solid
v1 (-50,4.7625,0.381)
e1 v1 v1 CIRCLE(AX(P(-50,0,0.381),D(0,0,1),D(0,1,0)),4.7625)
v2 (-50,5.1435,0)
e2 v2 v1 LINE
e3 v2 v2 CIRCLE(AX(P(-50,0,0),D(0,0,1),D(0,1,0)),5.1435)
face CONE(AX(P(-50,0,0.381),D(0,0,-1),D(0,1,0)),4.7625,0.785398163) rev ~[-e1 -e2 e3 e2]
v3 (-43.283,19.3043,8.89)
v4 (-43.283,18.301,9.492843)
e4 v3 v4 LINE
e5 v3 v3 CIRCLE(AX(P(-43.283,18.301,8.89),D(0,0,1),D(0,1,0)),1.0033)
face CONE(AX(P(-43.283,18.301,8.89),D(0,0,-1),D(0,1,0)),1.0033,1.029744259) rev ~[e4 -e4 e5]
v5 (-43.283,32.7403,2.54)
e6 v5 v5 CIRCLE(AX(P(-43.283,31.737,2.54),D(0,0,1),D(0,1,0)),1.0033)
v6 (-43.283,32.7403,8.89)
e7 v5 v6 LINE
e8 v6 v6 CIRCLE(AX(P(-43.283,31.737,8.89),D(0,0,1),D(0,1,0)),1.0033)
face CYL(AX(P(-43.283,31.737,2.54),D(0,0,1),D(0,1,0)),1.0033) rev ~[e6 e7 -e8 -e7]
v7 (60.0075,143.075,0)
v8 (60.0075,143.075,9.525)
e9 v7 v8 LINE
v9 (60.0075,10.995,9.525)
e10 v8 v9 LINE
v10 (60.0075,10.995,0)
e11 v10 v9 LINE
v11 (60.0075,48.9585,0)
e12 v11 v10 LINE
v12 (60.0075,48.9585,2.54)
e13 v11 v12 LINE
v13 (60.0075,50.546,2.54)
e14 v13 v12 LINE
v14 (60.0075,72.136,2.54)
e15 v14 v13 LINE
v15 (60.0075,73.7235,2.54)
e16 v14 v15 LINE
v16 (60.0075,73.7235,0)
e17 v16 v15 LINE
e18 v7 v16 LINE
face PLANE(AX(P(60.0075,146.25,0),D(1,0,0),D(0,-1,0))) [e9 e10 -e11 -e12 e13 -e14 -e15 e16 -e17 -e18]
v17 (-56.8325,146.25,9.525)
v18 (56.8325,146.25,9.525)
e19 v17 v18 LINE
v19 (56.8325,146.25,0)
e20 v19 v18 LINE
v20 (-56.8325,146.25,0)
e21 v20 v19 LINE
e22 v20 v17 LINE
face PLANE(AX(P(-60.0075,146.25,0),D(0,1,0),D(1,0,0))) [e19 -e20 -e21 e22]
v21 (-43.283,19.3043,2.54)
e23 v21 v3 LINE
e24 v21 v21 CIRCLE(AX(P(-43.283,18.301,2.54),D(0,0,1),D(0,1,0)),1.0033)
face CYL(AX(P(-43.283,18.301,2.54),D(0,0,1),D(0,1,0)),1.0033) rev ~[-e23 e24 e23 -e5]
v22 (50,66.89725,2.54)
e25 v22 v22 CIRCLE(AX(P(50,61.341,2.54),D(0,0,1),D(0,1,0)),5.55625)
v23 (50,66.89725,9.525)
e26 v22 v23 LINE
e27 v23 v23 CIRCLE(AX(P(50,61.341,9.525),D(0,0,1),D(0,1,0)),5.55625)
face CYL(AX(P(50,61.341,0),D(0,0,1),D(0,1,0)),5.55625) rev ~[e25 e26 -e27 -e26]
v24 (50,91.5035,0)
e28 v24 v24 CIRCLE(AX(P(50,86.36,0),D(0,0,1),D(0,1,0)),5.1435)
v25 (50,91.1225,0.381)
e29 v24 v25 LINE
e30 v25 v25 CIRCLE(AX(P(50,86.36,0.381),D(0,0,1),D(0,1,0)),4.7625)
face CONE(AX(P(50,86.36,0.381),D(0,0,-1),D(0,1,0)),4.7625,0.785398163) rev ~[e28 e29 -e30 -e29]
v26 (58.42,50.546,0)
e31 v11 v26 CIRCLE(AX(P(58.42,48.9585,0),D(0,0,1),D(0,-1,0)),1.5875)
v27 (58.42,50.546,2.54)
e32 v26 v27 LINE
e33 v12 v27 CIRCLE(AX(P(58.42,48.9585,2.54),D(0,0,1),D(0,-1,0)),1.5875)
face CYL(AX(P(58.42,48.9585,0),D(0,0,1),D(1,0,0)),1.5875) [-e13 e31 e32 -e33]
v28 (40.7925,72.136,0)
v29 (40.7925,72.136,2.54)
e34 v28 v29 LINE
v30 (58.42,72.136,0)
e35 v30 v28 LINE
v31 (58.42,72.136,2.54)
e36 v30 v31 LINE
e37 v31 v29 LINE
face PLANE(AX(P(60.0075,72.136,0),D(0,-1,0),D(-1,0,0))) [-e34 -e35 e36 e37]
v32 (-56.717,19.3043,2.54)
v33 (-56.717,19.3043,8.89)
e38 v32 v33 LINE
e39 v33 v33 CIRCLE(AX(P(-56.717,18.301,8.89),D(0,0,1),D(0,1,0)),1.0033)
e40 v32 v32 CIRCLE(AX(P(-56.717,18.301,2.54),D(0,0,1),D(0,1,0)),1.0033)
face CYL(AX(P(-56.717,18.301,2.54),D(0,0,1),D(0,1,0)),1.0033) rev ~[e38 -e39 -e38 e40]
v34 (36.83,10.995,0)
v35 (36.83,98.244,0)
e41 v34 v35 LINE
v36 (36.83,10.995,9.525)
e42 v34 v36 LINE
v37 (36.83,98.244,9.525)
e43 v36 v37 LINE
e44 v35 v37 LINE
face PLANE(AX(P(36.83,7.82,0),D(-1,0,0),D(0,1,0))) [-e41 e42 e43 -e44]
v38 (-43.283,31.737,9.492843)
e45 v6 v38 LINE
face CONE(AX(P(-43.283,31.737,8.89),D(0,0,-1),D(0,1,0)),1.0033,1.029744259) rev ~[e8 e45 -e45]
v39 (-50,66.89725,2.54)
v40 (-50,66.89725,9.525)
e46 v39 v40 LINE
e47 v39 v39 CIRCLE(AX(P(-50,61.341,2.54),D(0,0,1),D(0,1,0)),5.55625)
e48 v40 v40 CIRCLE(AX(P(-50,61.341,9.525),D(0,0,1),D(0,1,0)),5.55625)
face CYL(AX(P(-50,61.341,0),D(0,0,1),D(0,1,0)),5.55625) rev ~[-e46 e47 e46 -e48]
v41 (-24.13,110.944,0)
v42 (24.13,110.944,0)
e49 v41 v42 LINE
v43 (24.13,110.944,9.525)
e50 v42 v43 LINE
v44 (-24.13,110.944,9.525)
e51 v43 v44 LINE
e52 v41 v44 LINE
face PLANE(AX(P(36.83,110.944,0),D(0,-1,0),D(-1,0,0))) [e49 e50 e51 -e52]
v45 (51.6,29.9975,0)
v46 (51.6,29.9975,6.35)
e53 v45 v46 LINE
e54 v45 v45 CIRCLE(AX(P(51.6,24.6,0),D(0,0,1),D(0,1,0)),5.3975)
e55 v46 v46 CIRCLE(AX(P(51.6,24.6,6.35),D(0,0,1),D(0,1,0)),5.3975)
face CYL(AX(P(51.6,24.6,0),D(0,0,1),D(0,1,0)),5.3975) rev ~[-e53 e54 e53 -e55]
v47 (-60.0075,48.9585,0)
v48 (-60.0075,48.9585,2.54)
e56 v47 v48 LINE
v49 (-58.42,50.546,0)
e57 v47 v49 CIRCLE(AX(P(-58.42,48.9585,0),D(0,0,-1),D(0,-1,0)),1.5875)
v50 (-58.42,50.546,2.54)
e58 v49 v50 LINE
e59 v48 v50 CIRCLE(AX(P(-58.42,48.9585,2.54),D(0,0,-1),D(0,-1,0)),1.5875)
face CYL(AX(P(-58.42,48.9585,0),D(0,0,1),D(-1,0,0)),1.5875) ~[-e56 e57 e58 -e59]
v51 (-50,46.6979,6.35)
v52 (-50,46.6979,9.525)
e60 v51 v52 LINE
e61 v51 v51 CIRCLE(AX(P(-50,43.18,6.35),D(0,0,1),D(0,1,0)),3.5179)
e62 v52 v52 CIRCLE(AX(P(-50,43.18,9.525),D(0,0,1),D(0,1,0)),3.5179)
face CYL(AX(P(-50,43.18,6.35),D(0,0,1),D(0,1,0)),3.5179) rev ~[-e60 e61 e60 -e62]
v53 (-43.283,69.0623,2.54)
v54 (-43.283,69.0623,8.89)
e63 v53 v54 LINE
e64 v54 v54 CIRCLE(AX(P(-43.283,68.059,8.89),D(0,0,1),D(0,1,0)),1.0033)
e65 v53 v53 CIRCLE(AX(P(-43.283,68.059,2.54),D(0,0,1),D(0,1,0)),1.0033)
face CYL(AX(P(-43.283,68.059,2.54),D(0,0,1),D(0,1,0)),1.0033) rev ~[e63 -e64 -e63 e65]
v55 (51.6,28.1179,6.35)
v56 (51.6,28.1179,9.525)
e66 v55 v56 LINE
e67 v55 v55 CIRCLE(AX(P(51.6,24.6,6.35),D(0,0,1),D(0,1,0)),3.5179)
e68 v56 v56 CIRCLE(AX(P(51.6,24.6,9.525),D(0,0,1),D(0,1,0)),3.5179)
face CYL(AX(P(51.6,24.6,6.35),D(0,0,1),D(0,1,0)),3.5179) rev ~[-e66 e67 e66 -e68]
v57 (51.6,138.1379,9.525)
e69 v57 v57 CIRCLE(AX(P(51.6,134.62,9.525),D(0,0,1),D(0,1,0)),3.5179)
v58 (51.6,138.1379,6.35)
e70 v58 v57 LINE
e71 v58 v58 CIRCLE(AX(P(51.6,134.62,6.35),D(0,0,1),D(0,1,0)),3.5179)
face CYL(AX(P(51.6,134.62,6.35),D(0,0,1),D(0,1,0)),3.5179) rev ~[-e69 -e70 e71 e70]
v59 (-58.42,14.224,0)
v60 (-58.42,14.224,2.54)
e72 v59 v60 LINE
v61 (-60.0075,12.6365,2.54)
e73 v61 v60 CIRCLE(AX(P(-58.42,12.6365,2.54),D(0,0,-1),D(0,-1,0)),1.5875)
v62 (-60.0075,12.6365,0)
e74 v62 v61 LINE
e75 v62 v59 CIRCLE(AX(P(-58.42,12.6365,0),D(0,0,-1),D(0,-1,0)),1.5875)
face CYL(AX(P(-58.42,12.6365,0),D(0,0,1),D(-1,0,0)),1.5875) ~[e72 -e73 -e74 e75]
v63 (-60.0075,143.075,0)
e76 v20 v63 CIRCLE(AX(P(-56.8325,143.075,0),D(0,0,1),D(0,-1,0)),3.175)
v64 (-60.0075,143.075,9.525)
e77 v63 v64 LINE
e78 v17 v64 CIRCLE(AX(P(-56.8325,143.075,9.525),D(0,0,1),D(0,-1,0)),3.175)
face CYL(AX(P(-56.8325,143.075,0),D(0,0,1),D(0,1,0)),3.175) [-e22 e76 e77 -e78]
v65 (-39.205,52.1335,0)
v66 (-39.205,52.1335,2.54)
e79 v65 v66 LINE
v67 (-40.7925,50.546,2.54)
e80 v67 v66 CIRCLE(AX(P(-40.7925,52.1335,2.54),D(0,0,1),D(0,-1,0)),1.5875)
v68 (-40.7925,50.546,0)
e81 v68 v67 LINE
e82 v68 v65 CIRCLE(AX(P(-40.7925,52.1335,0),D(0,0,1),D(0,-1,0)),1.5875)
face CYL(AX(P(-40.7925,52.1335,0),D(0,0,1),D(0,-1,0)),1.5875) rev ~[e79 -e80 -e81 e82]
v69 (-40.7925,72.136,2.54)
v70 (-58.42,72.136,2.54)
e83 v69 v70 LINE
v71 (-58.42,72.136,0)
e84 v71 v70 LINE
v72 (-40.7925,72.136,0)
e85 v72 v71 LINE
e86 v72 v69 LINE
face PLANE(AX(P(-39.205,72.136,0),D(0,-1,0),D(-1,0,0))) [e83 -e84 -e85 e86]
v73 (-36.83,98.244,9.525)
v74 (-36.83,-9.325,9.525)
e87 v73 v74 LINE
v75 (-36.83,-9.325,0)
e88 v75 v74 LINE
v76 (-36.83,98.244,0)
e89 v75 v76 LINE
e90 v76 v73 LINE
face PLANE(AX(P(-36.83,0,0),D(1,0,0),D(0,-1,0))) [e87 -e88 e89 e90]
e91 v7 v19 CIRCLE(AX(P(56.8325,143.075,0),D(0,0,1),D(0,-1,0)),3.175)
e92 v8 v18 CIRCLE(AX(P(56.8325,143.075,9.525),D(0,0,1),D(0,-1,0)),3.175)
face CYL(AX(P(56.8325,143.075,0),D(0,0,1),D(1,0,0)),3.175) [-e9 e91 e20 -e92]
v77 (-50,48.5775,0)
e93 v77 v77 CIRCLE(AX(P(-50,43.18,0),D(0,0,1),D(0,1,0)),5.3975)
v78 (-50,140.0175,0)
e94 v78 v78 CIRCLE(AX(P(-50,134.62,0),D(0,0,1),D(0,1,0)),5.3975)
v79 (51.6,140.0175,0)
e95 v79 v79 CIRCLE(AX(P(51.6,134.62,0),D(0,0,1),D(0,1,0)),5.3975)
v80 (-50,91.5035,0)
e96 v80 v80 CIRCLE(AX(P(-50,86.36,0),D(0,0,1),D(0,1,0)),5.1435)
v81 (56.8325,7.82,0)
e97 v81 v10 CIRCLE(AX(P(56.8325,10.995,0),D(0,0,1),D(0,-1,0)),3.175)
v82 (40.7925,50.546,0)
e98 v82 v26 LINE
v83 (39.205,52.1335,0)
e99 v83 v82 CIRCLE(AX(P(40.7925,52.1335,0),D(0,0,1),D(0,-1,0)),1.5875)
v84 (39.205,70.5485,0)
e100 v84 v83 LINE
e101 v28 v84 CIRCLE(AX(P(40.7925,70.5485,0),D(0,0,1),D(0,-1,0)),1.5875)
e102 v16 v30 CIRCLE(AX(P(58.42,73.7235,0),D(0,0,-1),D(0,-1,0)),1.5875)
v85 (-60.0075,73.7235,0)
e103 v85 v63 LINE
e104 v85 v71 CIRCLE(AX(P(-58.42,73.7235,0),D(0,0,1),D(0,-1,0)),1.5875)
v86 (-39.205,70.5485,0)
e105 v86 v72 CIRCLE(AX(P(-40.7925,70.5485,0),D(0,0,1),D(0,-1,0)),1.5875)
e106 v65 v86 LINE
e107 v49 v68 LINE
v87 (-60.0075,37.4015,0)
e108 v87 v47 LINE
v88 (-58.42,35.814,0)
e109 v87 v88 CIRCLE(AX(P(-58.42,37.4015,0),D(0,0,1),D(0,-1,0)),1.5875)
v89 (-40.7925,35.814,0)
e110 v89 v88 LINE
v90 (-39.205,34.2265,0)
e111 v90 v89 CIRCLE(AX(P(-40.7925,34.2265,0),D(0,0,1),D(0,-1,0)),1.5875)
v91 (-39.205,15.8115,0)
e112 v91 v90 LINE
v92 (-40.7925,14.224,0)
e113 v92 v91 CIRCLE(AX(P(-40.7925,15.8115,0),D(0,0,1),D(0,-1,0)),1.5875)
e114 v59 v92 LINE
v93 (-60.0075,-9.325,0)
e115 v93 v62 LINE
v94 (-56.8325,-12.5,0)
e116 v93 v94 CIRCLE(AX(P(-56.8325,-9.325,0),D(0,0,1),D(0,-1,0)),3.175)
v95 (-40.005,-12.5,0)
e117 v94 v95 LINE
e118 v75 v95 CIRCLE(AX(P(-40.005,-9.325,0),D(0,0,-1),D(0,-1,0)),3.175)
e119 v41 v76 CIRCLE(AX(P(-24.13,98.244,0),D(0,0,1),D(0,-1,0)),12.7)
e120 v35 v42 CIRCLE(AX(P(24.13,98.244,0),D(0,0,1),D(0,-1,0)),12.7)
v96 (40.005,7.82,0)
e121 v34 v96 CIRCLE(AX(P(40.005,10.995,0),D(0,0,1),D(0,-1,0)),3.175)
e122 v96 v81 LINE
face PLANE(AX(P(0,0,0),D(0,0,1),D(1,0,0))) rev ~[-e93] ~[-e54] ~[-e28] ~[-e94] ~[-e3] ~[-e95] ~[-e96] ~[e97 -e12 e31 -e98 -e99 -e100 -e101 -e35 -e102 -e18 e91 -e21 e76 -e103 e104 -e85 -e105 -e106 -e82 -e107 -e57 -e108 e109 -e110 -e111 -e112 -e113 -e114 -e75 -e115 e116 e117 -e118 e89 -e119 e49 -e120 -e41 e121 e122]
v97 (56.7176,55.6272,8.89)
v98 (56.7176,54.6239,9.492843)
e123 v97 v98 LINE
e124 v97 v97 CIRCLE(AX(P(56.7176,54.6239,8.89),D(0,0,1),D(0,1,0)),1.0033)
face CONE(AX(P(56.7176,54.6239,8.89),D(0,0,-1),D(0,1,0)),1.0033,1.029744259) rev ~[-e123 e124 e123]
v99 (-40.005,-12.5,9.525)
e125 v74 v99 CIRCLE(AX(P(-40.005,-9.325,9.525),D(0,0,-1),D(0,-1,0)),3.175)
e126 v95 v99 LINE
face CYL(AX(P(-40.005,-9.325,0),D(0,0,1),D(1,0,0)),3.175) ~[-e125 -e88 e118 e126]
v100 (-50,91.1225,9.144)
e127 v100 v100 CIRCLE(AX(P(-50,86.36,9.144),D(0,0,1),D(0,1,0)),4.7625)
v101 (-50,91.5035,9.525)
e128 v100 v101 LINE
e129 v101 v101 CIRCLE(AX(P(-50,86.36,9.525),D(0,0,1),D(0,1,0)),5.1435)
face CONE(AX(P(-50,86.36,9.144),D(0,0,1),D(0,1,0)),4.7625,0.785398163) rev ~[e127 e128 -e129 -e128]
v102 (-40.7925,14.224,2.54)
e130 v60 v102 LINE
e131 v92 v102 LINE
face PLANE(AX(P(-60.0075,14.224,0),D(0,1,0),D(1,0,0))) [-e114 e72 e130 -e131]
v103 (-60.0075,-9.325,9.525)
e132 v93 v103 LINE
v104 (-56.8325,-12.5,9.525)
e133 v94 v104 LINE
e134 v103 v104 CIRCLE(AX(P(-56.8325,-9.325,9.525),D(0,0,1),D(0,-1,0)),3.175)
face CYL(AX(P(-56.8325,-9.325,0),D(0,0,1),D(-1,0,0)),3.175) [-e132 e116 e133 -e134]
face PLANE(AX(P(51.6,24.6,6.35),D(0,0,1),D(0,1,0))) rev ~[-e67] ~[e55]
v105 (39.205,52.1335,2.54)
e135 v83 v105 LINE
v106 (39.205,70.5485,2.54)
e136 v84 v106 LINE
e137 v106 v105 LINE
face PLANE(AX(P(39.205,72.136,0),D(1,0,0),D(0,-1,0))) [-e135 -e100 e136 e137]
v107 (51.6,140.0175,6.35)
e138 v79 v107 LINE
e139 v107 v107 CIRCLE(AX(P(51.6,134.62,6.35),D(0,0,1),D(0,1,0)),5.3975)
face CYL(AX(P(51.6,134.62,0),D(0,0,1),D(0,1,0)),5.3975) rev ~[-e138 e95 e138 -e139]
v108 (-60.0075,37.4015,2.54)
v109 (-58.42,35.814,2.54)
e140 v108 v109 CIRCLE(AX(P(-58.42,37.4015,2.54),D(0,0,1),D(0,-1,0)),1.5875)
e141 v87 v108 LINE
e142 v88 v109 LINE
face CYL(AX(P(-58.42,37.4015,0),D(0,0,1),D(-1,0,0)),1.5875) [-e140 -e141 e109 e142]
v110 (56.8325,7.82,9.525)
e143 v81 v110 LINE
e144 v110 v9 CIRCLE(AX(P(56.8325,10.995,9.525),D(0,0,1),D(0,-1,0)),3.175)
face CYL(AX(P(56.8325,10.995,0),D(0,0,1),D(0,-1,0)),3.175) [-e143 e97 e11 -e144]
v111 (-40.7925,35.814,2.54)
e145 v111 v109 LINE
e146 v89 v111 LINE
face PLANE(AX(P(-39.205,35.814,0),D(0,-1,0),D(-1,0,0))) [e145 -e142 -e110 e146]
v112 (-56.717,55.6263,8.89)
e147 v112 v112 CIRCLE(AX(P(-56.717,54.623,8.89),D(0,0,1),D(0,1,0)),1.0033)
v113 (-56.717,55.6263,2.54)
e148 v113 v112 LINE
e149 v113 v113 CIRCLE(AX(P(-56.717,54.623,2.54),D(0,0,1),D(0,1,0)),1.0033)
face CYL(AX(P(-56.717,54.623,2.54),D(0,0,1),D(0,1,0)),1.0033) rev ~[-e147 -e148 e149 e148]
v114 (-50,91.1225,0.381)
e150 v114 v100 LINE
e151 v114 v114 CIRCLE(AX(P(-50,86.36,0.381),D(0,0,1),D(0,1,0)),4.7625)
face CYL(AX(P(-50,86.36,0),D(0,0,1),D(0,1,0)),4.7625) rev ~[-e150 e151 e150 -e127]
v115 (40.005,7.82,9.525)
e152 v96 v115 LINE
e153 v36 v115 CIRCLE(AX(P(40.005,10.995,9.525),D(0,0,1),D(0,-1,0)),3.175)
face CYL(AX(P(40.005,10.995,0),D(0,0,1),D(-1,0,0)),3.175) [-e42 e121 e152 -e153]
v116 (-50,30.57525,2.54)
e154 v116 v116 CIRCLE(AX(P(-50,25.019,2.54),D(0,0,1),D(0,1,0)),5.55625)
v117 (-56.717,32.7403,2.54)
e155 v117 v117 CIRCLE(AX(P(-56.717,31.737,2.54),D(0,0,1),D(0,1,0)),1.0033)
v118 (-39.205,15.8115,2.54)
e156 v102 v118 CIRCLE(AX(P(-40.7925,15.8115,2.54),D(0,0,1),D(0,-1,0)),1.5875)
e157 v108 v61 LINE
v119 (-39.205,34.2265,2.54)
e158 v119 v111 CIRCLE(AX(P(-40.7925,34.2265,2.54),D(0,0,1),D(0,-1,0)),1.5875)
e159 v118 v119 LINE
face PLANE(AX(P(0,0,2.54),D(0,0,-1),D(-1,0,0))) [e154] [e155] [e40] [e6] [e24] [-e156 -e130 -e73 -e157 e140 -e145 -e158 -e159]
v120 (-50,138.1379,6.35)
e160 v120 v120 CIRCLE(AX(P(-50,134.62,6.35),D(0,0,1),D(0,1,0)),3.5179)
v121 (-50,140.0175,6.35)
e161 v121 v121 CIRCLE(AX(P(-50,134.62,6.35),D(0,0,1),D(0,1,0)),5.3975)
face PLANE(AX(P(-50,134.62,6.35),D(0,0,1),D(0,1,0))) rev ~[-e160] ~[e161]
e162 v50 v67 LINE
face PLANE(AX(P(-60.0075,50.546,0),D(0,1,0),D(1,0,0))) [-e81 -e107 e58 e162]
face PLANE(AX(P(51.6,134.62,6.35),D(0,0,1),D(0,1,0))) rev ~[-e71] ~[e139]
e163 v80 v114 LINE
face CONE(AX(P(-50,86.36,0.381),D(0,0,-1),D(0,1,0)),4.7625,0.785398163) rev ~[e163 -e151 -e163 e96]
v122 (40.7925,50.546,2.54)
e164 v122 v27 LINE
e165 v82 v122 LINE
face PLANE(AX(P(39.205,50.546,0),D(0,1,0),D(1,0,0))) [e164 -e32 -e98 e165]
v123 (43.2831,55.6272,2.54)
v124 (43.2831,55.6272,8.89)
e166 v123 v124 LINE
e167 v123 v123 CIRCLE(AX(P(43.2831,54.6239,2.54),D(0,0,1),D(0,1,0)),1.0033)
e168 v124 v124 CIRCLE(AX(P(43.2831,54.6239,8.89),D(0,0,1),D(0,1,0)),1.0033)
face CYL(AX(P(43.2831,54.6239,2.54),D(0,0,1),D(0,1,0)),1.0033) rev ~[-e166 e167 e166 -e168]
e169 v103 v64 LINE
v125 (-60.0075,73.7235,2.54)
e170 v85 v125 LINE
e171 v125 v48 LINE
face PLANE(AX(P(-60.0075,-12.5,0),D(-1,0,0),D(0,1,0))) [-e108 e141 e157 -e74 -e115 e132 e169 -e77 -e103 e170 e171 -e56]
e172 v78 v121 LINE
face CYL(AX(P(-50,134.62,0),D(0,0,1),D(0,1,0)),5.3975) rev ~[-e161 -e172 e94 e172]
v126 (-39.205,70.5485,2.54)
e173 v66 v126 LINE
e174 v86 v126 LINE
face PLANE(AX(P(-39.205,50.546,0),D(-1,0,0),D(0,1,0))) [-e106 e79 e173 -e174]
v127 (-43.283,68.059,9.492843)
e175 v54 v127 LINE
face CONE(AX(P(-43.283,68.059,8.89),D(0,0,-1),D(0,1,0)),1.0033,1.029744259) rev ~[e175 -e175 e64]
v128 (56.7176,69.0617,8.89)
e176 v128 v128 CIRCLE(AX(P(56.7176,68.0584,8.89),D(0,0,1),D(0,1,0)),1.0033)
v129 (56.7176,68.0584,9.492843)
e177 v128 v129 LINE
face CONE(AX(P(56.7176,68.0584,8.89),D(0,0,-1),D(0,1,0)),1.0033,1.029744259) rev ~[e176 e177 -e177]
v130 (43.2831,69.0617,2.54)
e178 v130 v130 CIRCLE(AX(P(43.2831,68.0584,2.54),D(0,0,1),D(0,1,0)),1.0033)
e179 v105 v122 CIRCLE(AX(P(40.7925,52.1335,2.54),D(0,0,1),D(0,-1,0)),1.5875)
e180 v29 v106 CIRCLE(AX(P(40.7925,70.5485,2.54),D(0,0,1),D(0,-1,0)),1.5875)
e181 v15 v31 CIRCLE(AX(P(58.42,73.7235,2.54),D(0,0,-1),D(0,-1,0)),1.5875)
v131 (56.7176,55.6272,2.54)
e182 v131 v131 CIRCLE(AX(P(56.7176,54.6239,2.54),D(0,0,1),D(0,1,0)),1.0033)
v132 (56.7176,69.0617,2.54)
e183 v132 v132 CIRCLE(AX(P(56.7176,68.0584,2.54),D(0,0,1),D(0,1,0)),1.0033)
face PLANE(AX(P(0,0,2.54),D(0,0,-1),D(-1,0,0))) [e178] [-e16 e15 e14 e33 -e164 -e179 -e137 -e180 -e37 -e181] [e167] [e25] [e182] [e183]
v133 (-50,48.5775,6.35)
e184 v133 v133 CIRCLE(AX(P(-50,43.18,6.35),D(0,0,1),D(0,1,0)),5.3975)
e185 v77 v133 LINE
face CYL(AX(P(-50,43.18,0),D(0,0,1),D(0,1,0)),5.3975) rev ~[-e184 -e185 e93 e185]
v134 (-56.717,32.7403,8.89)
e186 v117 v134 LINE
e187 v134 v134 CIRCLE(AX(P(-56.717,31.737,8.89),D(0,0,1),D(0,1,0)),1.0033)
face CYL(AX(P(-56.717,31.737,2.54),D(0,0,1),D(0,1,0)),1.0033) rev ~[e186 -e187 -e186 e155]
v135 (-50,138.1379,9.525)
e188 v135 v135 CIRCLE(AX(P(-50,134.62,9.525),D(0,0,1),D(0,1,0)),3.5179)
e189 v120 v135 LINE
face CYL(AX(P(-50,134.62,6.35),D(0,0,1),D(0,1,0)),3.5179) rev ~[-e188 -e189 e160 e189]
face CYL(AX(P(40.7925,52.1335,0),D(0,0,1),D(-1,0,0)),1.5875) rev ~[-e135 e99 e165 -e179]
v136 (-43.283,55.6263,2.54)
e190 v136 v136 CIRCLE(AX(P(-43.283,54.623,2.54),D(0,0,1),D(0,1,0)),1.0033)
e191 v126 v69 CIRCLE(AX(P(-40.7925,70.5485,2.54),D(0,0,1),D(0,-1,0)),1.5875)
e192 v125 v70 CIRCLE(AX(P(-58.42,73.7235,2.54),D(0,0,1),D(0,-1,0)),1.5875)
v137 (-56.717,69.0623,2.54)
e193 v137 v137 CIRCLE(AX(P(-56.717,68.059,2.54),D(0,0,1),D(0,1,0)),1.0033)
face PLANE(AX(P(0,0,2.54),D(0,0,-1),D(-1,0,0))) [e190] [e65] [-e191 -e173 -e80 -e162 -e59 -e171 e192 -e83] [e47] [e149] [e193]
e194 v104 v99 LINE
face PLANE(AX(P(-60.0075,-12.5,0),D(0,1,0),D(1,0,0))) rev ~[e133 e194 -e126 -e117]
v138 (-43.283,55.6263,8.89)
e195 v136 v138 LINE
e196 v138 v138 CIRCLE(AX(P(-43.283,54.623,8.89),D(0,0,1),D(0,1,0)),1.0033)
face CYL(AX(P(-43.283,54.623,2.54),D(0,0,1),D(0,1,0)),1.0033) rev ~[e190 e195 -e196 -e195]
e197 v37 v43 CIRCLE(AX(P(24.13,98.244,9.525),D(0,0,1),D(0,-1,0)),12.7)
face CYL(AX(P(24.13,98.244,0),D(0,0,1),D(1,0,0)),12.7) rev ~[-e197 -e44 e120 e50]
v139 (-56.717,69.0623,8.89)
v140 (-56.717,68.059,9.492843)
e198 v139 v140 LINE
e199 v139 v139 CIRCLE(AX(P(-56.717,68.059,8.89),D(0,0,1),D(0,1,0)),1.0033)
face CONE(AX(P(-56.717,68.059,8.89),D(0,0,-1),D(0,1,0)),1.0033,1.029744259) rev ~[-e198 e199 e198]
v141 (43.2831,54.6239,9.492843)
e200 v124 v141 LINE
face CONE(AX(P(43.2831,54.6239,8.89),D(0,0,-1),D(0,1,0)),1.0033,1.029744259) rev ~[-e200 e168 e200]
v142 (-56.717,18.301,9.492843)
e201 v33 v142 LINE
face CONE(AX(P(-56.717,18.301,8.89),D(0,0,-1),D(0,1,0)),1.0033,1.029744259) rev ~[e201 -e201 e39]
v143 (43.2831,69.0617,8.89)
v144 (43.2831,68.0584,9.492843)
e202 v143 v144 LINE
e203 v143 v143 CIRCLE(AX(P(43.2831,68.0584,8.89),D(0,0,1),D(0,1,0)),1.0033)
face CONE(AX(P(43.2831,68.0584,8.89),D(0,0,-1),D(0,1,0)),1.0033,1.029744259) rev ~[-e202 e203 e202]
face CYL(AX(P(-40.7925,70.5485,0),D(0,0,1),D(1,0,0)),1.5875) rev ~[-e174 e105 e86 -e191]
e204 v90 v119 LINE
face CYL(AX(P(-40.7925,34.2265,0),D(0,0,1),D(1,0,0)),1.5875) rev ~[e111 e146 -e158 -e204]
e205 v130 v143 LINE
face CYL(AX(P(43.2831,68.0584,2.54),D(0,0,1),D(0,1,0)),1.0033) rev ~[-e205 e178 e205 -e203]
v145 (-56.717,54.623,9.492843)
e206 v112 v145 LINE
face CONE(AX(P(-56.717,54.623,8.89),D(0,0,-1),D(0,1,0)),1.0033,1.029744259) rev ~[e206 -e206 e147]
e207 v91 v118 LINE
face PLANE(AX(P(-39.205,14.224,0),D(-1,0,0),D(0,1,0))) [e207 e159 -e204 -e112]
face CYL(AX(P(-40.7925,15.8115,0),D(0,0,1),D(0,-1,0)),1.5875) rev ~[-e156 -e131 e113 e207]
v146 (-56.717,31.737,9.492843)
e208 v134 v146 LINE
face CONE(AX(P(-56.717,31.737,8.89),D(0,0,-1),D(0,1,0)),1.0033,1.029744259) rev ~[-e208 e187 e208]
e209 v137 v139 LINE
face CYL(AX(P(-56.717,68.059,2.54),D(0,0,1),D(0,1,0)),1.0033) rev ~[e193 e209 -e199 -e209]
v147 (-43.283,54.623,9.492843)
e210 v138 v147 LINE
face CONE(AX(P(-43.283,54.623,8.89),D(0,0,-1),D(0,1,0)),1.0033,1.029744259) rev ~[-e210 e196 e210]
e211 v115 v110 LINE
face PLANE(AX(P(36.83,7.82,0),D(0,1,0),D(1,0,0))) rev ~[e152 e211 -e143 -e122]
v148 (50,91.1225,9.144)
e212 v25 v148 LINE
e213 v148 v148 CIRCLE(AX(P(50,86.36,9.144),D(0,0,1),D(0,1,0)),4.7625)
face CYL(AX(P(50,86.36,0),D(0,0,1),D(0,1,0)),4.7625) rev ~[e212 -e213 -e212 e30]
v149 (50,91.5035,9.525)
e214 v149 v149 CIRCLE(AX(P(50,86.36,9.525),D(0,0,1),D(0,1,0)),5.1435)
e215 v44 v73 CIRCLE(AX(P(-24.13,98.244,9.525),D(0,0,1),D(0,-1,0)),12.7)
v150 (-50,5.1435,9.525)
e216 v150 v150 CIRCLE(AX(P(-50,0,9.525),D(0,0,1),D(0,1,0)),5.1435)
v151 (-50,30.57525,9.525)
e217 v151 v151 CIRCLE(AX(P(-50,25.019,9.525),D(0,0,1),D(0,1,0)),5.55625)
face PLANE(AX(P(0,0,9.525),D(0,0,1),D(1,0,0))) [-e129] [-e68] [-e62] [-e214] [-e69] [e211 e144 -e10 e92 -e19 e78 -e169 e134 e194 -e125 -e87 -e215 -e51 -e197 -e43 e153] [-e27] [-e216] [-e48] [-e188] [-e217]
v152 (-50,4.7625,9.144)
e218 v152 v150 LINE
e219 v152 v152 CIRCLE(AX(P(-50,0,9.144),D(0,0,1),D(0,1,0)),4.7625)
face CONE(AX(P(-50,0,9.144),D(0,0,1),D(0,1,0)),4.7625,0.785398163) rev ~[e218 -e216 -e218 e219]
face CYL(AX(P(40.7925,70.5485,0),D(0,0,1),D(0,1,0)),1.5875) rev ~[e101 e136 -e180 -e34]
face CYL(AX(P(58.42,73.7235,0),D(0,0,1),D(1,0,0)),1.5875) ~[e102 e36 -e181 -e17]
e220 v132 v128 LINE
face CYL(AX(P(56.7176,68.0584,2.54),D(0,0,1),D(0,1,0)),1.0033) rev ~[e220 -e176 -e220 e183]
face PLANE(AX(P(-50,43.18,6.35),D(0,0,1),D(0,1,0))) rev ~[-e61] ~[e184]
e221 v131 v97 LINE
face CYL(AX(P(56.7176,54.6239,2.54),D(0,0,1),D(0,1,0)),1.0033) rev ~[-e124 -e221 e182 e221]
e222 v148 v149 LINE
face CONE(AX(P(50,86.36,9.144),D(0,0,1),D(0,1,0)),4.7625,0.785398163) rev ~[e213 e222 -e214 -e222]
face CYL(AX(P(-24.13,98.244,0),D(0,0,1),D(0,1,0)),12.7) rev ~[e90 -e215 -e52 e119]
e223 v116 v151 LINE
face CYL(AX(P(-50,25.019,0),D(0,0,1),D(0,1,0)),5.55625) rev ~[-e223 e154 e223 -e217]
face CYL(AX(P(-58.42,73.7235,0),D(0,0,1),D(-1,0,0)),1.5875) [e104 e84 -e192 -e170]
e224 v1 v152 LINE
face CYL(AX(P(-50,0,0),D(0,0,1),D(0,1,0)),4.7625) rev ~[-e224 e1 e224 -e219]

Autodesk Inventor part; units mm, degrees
ref_plane "Work Plane1 top of part" through (0, 0, 9.525) normal (0, 0, 1) x (1, 0, 0)
sketch "Sketch1" plane through (0, 0, 0) normal (0, 0, 1) x (1, 0, 0)
  line L0 (-60.0075, 146.25) -> (60.0075, 146.25)
  line L1 (60.0075, 146.25) -> (60.0075, -12.5)
  line L2 (-60.0075, -12.5) -> (-60.0075, 146.25)
  line L3 (-60.0075, -12.5) -> (60.0075, -12.5)
  point P0 (0, 0)
  point P1 (0, -3.5617)
  point P2 (0, 146.25)
  dimension "d0" = 120.015
  dimension "d2" = 12.5
  dimension "d5" = 158.75
extrude "Extrusion1" add sketch "Sketch1" along normal blind 9.525
sketch "Sketch2" plane through (0, 0, 0) normal (0, 0, 1) x (1, 0, 0)
  circle A0 centre (-50, 0) radius 3.175
  circle A1 centre (50, 86.36) radius 3.175
  circle A2 centre (-50, 86.36) radius 3.175
  point P0 (0, 0)
  point P1 (50, 35.56)
  dimension "d6" = 6.35
  dimension "d8" = 50
  dimension "d28" = 86.36
  dimension "d29" = 50
  dimension "d128" = 50.8
hole "Hole1" at (-50, 0, 0) at (-50, 86.36, 0) at (50, 86.36, 0) direction (0, 0, 1) diameter 9.525 end through all
sketch "Sketch4" plane through (0, 0, 0) normal (0, 0, 1) x (1, 0, 0)
  line L0 (60.0075, -12.5) -> (-60.0075, -12.5) projected
  line L1 (0, 190.0524) -> (0, -46.2587) projected
  line L2 (-82.677, 0) -> (82.677, 0) projected
  line L3 (36.83, 110.944) -> (-36.83, 110.944)
  line L4 (-36.83, 110.944) -> (-36.83, -12.5)
  line L5 (36.83, 7.82) -> (60.0075, 7.82)
  line L6 (60.0075, 7.82) -> (60.0075, -12.5)
  line L7 (36.83, 7.82) -> (36.83, 110.944)
  line L8 (-36.83, -12.5) -> (60.0075, -12.5)
  line L9 (-60.0075, 146.25) -> (60.0075, 146.25) projected
  line L10 (0, -3.5649) -> (0, 156.2936)
  point P0 (0, 0)
  dimension "d30" = 123.444
  dimension "d31" = 20.32
  dimension "d32" = 35.306
  dimension "d112" = 73.66
  dimension "d132" = 36.83
  dimension "d133" = 36.83
extrude "Extrusion3" cut sketch "Sketch4" along normal up to next
sketch "Sketch5" plane through (0, 0, 0) normal (0, 0, 1) x (1, 0, 0)
  circle A0 centre (-50, 86.36) radius 4.7625 projected
  circle A1 centre (50, 86.36) radius 4.7625 projected
  circle A2 centre (-50, 0) radius 4.7625 projected
  line L0 (-50, 86.36) -> (-50, 68.58) construction
  line L1 (-50, 0) -> (-50, 17.78) construction
  line L2 (50, 86.36) -> (50, 68.58) construction
  line L3 (-55.715, 74.295) -> (-44.285, 74.295)
  line L4 (-44.285, 74.295) -> (-44.285, 62.865)
  line L5 (-44.285, 62.865) -> (-55.715, 62.865)
  line L6 (-55.715, 62.865) -> (-55.715, 74.295)
  line L7 (-55.715, 23.495) -> (-44.285, 23.495)
  line L8 (-44.285, 23.495) -> (-44.285, 12.065)
  line L9 (-44.285, 12.065) -> (-55.715, 12.065)
  line L10 (-55.715, 12.065) -> (-55.715, 23.495)
  line L11 (44.285, 74.295) -> (55.715, 74.295)
  line L12 (55.715, 74.295) -> (55.715, 62.865)
  line L13 (55.715, 62.865) -> (44.285, 62.865)
  line L14 (44.285, 62.865) -> (44.285, 74.295)
  point P0 (0, 0)
  point P1 (-55.715, 68.58)
  point P2 (-50, 74.295)
  point P3 (-44.285, 17.78)
  point P4 (-50, 23.495)
  point P5 (55.715, 68.58)
  point P6 (50, 74.295)
  dimension "d36" = 17.78
  dimension "d38" = 11.43
  dimension "d39" = 11.43
  dimension "d63" = 50.8
  dimension "d97" = 17.78
  dimension "d98" = 17.78
extrude "Extrusion4" [suppressed]
fillet "Fillet2" [suppressed]
fillet "Fillet3" radius 12.7 2 edges at (36.83, 110.944, 4.7625) (-36.83, 110.944, 4.7625)
fillet "Fillet4" radius 3.175 6 edges at (36.83, 7.82, 4.7625) (60.0075, 146.25, 4.7625) (-60.0075, 146.25, 4.7625) (-60.0075, -12.5, 4.7625) (-36.83, -12.5, 4.7625) (60.0075, 7.82, 4.7625)
sketch "Sketch9" plane through (0, 0, 9.525) normal (0, 0, 1) x (1, 0, 0)
  circle A0 centre (-50, 86.36) radius 4.7625 projected
  circle A1 centre (-50, 0) radius 4.7625 projected
  circle A2 centre (50, 86.36) radius 4.7625 projected
  line L0 (-50, 0) -> (-50, 140.9854) construction
  line L1 (50, 86.36) -> (50, 127.3454) construction
  circle A3 centre (-50, 43.18) radius 1.27 construction
  circle A4 centre (-50, 134.62) radius 1.27 construction
  circle A5 centre (51.6, 134.62) radius 1.5313 construction
  line L2 (-76.6675, 0) -> (76.6675, 0) construction
  point P0 (0, 0)
  dimension "d100" = 86.36
  dimension "d101" = 2.54
  dimension "d102" = 43.18
  dimension "d104" = 101.6
  dimension "d113" = 0
  dimension "d180" = 134.62
chamfer "Chamfer3" [suppressed]
chamfer "Chamfer4" distance 0.381 angle 45 6 edges at (-50, -4.7625, 9.525) (-50, 81.5975, 9.525) (50, 81.5975, 9.525) (-50, -4.7625, 0) (-50, 81.5975, 0) (50, 81.5975, 0)
sketch "Sketch10" plane through (0, 0, 0) normal (0, 0, 1) x (1, 0, 0)
  circle A0 centre (50, 86.36) radius 5.1435 construction
  line L0 (51.6, 134.62) -> (51.6, 24.6) construction
  line L1 (-76.6675, 0) -> (76.6675, 0) construction
  point P0 (0, 0)
  point P1 (-50, 134.62)
  point P2 (-50, 43.18)
  point P3 (-50, 43.18)
  point P4 (-50, 134.62)
  point P5 (-50, 134.62)
  dimension "d127" = 101.6
  dimension "d130" = 24.6
  dimension "d131" = 110.02
hole "Hole8 stdf holes flipped" at (51.6, 134.62, 0) at (-50, 134.62, 0) at (-50, 43.18, 0) at (51.6, 24.6, 0) direction (0, 0, 1) diameter 7.0358 end through all counterbore diameter 10.795 counterbore depth 6.35
sketch "Sketch11" plane through (0, 0, 0) normal (0, 0, 1) x (1, 0, 0)
  circle A0 centre (-50, 0) radius 4.7625 projected
  circle A1 centre (-50, 86.36) radius 4.7625 projected
  circle A2 centre (50, 86.36) radius 4.7625 projected
  point P0 (0, 0)
  point P1 (-50, 25.019)
  point P2 (-50, 61.341)
  point P3 (50, 61.341)
  dimension "d134" = 25.019
  dimension "d135" = 25.019
  dimension "d136" = 25.019
hole "Hole9" at (50, 61.341, 0) at (-50, 61.341, 0) at (-50, 25.019, 0) direction (0, 0, 1) diameter 11.1125 end through all
sketch "Sketch13" plane through (0, 0, 0) normal (0, 0, -1) x (-1, 0, 0)
  circle A0 centre (50, 25.019) radius 5.5562 projected
  line L0 (60.0075, -9.325) -> (60.0075, 143.075) projected
  line L1 (39.205, 35.814) -> (60.0075, 35.814)
  line L2 (60.0075, 35.814) -> (60.0075, 14.224)
  line L3 (60.0075, 14.224) -> (39.205, 14.224)
  line L4 (39.205, 14.224) -> (39.205, 35.814)
  circle A1 centre (50, 61.341) radius 5.5562 projected
  line L5 (39.205, 72.136) -> (60.0075, 72.136)
  line L6 (60.0075, 72.136) -> (60.0075, 50.546)
  line L7 (60.0075, 50.546) -> (39.205, 50.546)
  line L8 (39.205, 50.546) -> (39.205, 72.136)
  point P0 (0, 0)
  dimension "d156" = 10.795
  dimension "d157" = 21.59
  dimension "d158" = 10.795
  dimension "d159" = 0
  dimension "d162" = 10.795
  dimension "d163" = 0
  dimension "d164" = 10.795
  dimension "d165" = 21.59
extrude "Extrusion5" cut sketch "Sketch13" against normal blind 2.54
sketch "Sketch14" plane through (0, 0, 2.54) normal (0, 0, -1) x (-1, 0, 0)
  circle A0 centre (50, 25.019) radius 5.5562 projected
  circle A1 centre (50, 25.019) radius 9.5 construction
  circle A2 centre (50, 61.341) radius 5.5562 construction
  circle A3 centre (50, 61.341) radius 9.5 construction
  point P0 (0, 0)
  point P1 (43.283, 68.059)
  point P2 (56.717, 68.059)
  point P3 (56.717, 54.623)
  point P4 (43.283, 54.623)
  point P5 (43.283, 31.737)
  point P6 (56.717, 31.737)
  point P7 (56.717, 18.301)
  point P8 (43.283, 18.301)
  dimension "d166" = 19
  dimension "d167" = 19
  dimension "d168" = 13.4341
  dimension "d169" = 13.436
  dimension "d170" = 13.4341
  dimension "d171" = 13.436
hole "Hole11" at (-43.283, 18.301, 2.54) at (-43.283, 31.737, 2.54) at (-56.717, 31.737, 2.54) at (-56.717, 18.301, 2.54) at (-43.283, 54.623, 2.54) at (-43.283, 68.059, 2.54) at (-56.717, 68.059, 2.54) at (-56.717, 54.623, 2.54) direction (0, 0, 1) diameter 2.0066 depth 6.35 tip angle 118
fillet "Fillet5" radius 1.5875 8 edges at (-39.205, 14.224, 1.27) (-39.205, 35.814, 1.27) (-39.205, 50.546, 1.27) (-39.205, 72.136, 1.27) (-60.0075, 50.546, 1.27) (-60.0075, 72.136, 1.27) (-60.0075, 35.814, 1.27) (-60.0075, 14.224, 1.27)
sketch "Sketch15" plane through (0, 0, 0) normal (0, 0, -1) x (-1, 0, 0)
  line L0 (-60.0075, 143.075) -> (-60.0075, 10.995) projected
  circle A0 centre (-50, 61.341) radius 5.5562 projected
  line L1 (-60.0075, 72.136) -> (-39.205, 72.136)
  line L2 (-39.205, 72.136) -> (-39.205, 50.546)
  line L3 (-39.205, 50.546) -> (-60.0075, 50.546)
  line L4 (-60.0075, 50.546) -> (-60.0075, 72.136)
  point P0 (0, 0)
  dimension "d181" = 21.59
  dimension "d182" = 10.795
  dimension "d183" = 10.795
extrude "Extrusion6" cut sketch "Sketch15" against normal blind 2.54
sketch "Sketch16" plane through (0, 0, 2.54) normal (0, 0, -1) x (-1, 0, 0)
  circle A0 centre (-50, 61.341) radius 5.5562 projected
  line L0 (-56.7176, 68.0584) -> (-43.2831, 68.0584) construction
  line L1 (-43.2831, 68.0584) -> (-43.2831, 54.6239) construction
  line L2 (-43.2831, 54.6239) -> (-56.7176, 54.6239) construction
  line L3 (-56.7176, 54.6239) -> (-56.7176, 68.0584) construction
  circle A1 centre (-50, 61.341) radius 9.5 construction
  point P0 (0, 0)
  dimension "d198" = 19
  dimension "d199" = 13.4345
hole "Hole12" at (43.2831, 68.0584, 2.54) at (43.2831, 54.6239, 2.54) at (56.7176, 54.6239, 2.54) at (56.7176, 68.0584, 2.54) direction (0, 0, 1) diameter 2.0066 depth 6.35 tip angle 118
fillet "Fillet6" radius 1.5875 4 edges at (60.0075, 72.136, 1.27) (39.205, 50.546, 1.27) (60.0075, 50.546, 1.27) (39.205, 72.136, 1.27)
equation "\"d29\" = d8"
properties part number "J002887" material "ALUMINUM, 6061-T651"
